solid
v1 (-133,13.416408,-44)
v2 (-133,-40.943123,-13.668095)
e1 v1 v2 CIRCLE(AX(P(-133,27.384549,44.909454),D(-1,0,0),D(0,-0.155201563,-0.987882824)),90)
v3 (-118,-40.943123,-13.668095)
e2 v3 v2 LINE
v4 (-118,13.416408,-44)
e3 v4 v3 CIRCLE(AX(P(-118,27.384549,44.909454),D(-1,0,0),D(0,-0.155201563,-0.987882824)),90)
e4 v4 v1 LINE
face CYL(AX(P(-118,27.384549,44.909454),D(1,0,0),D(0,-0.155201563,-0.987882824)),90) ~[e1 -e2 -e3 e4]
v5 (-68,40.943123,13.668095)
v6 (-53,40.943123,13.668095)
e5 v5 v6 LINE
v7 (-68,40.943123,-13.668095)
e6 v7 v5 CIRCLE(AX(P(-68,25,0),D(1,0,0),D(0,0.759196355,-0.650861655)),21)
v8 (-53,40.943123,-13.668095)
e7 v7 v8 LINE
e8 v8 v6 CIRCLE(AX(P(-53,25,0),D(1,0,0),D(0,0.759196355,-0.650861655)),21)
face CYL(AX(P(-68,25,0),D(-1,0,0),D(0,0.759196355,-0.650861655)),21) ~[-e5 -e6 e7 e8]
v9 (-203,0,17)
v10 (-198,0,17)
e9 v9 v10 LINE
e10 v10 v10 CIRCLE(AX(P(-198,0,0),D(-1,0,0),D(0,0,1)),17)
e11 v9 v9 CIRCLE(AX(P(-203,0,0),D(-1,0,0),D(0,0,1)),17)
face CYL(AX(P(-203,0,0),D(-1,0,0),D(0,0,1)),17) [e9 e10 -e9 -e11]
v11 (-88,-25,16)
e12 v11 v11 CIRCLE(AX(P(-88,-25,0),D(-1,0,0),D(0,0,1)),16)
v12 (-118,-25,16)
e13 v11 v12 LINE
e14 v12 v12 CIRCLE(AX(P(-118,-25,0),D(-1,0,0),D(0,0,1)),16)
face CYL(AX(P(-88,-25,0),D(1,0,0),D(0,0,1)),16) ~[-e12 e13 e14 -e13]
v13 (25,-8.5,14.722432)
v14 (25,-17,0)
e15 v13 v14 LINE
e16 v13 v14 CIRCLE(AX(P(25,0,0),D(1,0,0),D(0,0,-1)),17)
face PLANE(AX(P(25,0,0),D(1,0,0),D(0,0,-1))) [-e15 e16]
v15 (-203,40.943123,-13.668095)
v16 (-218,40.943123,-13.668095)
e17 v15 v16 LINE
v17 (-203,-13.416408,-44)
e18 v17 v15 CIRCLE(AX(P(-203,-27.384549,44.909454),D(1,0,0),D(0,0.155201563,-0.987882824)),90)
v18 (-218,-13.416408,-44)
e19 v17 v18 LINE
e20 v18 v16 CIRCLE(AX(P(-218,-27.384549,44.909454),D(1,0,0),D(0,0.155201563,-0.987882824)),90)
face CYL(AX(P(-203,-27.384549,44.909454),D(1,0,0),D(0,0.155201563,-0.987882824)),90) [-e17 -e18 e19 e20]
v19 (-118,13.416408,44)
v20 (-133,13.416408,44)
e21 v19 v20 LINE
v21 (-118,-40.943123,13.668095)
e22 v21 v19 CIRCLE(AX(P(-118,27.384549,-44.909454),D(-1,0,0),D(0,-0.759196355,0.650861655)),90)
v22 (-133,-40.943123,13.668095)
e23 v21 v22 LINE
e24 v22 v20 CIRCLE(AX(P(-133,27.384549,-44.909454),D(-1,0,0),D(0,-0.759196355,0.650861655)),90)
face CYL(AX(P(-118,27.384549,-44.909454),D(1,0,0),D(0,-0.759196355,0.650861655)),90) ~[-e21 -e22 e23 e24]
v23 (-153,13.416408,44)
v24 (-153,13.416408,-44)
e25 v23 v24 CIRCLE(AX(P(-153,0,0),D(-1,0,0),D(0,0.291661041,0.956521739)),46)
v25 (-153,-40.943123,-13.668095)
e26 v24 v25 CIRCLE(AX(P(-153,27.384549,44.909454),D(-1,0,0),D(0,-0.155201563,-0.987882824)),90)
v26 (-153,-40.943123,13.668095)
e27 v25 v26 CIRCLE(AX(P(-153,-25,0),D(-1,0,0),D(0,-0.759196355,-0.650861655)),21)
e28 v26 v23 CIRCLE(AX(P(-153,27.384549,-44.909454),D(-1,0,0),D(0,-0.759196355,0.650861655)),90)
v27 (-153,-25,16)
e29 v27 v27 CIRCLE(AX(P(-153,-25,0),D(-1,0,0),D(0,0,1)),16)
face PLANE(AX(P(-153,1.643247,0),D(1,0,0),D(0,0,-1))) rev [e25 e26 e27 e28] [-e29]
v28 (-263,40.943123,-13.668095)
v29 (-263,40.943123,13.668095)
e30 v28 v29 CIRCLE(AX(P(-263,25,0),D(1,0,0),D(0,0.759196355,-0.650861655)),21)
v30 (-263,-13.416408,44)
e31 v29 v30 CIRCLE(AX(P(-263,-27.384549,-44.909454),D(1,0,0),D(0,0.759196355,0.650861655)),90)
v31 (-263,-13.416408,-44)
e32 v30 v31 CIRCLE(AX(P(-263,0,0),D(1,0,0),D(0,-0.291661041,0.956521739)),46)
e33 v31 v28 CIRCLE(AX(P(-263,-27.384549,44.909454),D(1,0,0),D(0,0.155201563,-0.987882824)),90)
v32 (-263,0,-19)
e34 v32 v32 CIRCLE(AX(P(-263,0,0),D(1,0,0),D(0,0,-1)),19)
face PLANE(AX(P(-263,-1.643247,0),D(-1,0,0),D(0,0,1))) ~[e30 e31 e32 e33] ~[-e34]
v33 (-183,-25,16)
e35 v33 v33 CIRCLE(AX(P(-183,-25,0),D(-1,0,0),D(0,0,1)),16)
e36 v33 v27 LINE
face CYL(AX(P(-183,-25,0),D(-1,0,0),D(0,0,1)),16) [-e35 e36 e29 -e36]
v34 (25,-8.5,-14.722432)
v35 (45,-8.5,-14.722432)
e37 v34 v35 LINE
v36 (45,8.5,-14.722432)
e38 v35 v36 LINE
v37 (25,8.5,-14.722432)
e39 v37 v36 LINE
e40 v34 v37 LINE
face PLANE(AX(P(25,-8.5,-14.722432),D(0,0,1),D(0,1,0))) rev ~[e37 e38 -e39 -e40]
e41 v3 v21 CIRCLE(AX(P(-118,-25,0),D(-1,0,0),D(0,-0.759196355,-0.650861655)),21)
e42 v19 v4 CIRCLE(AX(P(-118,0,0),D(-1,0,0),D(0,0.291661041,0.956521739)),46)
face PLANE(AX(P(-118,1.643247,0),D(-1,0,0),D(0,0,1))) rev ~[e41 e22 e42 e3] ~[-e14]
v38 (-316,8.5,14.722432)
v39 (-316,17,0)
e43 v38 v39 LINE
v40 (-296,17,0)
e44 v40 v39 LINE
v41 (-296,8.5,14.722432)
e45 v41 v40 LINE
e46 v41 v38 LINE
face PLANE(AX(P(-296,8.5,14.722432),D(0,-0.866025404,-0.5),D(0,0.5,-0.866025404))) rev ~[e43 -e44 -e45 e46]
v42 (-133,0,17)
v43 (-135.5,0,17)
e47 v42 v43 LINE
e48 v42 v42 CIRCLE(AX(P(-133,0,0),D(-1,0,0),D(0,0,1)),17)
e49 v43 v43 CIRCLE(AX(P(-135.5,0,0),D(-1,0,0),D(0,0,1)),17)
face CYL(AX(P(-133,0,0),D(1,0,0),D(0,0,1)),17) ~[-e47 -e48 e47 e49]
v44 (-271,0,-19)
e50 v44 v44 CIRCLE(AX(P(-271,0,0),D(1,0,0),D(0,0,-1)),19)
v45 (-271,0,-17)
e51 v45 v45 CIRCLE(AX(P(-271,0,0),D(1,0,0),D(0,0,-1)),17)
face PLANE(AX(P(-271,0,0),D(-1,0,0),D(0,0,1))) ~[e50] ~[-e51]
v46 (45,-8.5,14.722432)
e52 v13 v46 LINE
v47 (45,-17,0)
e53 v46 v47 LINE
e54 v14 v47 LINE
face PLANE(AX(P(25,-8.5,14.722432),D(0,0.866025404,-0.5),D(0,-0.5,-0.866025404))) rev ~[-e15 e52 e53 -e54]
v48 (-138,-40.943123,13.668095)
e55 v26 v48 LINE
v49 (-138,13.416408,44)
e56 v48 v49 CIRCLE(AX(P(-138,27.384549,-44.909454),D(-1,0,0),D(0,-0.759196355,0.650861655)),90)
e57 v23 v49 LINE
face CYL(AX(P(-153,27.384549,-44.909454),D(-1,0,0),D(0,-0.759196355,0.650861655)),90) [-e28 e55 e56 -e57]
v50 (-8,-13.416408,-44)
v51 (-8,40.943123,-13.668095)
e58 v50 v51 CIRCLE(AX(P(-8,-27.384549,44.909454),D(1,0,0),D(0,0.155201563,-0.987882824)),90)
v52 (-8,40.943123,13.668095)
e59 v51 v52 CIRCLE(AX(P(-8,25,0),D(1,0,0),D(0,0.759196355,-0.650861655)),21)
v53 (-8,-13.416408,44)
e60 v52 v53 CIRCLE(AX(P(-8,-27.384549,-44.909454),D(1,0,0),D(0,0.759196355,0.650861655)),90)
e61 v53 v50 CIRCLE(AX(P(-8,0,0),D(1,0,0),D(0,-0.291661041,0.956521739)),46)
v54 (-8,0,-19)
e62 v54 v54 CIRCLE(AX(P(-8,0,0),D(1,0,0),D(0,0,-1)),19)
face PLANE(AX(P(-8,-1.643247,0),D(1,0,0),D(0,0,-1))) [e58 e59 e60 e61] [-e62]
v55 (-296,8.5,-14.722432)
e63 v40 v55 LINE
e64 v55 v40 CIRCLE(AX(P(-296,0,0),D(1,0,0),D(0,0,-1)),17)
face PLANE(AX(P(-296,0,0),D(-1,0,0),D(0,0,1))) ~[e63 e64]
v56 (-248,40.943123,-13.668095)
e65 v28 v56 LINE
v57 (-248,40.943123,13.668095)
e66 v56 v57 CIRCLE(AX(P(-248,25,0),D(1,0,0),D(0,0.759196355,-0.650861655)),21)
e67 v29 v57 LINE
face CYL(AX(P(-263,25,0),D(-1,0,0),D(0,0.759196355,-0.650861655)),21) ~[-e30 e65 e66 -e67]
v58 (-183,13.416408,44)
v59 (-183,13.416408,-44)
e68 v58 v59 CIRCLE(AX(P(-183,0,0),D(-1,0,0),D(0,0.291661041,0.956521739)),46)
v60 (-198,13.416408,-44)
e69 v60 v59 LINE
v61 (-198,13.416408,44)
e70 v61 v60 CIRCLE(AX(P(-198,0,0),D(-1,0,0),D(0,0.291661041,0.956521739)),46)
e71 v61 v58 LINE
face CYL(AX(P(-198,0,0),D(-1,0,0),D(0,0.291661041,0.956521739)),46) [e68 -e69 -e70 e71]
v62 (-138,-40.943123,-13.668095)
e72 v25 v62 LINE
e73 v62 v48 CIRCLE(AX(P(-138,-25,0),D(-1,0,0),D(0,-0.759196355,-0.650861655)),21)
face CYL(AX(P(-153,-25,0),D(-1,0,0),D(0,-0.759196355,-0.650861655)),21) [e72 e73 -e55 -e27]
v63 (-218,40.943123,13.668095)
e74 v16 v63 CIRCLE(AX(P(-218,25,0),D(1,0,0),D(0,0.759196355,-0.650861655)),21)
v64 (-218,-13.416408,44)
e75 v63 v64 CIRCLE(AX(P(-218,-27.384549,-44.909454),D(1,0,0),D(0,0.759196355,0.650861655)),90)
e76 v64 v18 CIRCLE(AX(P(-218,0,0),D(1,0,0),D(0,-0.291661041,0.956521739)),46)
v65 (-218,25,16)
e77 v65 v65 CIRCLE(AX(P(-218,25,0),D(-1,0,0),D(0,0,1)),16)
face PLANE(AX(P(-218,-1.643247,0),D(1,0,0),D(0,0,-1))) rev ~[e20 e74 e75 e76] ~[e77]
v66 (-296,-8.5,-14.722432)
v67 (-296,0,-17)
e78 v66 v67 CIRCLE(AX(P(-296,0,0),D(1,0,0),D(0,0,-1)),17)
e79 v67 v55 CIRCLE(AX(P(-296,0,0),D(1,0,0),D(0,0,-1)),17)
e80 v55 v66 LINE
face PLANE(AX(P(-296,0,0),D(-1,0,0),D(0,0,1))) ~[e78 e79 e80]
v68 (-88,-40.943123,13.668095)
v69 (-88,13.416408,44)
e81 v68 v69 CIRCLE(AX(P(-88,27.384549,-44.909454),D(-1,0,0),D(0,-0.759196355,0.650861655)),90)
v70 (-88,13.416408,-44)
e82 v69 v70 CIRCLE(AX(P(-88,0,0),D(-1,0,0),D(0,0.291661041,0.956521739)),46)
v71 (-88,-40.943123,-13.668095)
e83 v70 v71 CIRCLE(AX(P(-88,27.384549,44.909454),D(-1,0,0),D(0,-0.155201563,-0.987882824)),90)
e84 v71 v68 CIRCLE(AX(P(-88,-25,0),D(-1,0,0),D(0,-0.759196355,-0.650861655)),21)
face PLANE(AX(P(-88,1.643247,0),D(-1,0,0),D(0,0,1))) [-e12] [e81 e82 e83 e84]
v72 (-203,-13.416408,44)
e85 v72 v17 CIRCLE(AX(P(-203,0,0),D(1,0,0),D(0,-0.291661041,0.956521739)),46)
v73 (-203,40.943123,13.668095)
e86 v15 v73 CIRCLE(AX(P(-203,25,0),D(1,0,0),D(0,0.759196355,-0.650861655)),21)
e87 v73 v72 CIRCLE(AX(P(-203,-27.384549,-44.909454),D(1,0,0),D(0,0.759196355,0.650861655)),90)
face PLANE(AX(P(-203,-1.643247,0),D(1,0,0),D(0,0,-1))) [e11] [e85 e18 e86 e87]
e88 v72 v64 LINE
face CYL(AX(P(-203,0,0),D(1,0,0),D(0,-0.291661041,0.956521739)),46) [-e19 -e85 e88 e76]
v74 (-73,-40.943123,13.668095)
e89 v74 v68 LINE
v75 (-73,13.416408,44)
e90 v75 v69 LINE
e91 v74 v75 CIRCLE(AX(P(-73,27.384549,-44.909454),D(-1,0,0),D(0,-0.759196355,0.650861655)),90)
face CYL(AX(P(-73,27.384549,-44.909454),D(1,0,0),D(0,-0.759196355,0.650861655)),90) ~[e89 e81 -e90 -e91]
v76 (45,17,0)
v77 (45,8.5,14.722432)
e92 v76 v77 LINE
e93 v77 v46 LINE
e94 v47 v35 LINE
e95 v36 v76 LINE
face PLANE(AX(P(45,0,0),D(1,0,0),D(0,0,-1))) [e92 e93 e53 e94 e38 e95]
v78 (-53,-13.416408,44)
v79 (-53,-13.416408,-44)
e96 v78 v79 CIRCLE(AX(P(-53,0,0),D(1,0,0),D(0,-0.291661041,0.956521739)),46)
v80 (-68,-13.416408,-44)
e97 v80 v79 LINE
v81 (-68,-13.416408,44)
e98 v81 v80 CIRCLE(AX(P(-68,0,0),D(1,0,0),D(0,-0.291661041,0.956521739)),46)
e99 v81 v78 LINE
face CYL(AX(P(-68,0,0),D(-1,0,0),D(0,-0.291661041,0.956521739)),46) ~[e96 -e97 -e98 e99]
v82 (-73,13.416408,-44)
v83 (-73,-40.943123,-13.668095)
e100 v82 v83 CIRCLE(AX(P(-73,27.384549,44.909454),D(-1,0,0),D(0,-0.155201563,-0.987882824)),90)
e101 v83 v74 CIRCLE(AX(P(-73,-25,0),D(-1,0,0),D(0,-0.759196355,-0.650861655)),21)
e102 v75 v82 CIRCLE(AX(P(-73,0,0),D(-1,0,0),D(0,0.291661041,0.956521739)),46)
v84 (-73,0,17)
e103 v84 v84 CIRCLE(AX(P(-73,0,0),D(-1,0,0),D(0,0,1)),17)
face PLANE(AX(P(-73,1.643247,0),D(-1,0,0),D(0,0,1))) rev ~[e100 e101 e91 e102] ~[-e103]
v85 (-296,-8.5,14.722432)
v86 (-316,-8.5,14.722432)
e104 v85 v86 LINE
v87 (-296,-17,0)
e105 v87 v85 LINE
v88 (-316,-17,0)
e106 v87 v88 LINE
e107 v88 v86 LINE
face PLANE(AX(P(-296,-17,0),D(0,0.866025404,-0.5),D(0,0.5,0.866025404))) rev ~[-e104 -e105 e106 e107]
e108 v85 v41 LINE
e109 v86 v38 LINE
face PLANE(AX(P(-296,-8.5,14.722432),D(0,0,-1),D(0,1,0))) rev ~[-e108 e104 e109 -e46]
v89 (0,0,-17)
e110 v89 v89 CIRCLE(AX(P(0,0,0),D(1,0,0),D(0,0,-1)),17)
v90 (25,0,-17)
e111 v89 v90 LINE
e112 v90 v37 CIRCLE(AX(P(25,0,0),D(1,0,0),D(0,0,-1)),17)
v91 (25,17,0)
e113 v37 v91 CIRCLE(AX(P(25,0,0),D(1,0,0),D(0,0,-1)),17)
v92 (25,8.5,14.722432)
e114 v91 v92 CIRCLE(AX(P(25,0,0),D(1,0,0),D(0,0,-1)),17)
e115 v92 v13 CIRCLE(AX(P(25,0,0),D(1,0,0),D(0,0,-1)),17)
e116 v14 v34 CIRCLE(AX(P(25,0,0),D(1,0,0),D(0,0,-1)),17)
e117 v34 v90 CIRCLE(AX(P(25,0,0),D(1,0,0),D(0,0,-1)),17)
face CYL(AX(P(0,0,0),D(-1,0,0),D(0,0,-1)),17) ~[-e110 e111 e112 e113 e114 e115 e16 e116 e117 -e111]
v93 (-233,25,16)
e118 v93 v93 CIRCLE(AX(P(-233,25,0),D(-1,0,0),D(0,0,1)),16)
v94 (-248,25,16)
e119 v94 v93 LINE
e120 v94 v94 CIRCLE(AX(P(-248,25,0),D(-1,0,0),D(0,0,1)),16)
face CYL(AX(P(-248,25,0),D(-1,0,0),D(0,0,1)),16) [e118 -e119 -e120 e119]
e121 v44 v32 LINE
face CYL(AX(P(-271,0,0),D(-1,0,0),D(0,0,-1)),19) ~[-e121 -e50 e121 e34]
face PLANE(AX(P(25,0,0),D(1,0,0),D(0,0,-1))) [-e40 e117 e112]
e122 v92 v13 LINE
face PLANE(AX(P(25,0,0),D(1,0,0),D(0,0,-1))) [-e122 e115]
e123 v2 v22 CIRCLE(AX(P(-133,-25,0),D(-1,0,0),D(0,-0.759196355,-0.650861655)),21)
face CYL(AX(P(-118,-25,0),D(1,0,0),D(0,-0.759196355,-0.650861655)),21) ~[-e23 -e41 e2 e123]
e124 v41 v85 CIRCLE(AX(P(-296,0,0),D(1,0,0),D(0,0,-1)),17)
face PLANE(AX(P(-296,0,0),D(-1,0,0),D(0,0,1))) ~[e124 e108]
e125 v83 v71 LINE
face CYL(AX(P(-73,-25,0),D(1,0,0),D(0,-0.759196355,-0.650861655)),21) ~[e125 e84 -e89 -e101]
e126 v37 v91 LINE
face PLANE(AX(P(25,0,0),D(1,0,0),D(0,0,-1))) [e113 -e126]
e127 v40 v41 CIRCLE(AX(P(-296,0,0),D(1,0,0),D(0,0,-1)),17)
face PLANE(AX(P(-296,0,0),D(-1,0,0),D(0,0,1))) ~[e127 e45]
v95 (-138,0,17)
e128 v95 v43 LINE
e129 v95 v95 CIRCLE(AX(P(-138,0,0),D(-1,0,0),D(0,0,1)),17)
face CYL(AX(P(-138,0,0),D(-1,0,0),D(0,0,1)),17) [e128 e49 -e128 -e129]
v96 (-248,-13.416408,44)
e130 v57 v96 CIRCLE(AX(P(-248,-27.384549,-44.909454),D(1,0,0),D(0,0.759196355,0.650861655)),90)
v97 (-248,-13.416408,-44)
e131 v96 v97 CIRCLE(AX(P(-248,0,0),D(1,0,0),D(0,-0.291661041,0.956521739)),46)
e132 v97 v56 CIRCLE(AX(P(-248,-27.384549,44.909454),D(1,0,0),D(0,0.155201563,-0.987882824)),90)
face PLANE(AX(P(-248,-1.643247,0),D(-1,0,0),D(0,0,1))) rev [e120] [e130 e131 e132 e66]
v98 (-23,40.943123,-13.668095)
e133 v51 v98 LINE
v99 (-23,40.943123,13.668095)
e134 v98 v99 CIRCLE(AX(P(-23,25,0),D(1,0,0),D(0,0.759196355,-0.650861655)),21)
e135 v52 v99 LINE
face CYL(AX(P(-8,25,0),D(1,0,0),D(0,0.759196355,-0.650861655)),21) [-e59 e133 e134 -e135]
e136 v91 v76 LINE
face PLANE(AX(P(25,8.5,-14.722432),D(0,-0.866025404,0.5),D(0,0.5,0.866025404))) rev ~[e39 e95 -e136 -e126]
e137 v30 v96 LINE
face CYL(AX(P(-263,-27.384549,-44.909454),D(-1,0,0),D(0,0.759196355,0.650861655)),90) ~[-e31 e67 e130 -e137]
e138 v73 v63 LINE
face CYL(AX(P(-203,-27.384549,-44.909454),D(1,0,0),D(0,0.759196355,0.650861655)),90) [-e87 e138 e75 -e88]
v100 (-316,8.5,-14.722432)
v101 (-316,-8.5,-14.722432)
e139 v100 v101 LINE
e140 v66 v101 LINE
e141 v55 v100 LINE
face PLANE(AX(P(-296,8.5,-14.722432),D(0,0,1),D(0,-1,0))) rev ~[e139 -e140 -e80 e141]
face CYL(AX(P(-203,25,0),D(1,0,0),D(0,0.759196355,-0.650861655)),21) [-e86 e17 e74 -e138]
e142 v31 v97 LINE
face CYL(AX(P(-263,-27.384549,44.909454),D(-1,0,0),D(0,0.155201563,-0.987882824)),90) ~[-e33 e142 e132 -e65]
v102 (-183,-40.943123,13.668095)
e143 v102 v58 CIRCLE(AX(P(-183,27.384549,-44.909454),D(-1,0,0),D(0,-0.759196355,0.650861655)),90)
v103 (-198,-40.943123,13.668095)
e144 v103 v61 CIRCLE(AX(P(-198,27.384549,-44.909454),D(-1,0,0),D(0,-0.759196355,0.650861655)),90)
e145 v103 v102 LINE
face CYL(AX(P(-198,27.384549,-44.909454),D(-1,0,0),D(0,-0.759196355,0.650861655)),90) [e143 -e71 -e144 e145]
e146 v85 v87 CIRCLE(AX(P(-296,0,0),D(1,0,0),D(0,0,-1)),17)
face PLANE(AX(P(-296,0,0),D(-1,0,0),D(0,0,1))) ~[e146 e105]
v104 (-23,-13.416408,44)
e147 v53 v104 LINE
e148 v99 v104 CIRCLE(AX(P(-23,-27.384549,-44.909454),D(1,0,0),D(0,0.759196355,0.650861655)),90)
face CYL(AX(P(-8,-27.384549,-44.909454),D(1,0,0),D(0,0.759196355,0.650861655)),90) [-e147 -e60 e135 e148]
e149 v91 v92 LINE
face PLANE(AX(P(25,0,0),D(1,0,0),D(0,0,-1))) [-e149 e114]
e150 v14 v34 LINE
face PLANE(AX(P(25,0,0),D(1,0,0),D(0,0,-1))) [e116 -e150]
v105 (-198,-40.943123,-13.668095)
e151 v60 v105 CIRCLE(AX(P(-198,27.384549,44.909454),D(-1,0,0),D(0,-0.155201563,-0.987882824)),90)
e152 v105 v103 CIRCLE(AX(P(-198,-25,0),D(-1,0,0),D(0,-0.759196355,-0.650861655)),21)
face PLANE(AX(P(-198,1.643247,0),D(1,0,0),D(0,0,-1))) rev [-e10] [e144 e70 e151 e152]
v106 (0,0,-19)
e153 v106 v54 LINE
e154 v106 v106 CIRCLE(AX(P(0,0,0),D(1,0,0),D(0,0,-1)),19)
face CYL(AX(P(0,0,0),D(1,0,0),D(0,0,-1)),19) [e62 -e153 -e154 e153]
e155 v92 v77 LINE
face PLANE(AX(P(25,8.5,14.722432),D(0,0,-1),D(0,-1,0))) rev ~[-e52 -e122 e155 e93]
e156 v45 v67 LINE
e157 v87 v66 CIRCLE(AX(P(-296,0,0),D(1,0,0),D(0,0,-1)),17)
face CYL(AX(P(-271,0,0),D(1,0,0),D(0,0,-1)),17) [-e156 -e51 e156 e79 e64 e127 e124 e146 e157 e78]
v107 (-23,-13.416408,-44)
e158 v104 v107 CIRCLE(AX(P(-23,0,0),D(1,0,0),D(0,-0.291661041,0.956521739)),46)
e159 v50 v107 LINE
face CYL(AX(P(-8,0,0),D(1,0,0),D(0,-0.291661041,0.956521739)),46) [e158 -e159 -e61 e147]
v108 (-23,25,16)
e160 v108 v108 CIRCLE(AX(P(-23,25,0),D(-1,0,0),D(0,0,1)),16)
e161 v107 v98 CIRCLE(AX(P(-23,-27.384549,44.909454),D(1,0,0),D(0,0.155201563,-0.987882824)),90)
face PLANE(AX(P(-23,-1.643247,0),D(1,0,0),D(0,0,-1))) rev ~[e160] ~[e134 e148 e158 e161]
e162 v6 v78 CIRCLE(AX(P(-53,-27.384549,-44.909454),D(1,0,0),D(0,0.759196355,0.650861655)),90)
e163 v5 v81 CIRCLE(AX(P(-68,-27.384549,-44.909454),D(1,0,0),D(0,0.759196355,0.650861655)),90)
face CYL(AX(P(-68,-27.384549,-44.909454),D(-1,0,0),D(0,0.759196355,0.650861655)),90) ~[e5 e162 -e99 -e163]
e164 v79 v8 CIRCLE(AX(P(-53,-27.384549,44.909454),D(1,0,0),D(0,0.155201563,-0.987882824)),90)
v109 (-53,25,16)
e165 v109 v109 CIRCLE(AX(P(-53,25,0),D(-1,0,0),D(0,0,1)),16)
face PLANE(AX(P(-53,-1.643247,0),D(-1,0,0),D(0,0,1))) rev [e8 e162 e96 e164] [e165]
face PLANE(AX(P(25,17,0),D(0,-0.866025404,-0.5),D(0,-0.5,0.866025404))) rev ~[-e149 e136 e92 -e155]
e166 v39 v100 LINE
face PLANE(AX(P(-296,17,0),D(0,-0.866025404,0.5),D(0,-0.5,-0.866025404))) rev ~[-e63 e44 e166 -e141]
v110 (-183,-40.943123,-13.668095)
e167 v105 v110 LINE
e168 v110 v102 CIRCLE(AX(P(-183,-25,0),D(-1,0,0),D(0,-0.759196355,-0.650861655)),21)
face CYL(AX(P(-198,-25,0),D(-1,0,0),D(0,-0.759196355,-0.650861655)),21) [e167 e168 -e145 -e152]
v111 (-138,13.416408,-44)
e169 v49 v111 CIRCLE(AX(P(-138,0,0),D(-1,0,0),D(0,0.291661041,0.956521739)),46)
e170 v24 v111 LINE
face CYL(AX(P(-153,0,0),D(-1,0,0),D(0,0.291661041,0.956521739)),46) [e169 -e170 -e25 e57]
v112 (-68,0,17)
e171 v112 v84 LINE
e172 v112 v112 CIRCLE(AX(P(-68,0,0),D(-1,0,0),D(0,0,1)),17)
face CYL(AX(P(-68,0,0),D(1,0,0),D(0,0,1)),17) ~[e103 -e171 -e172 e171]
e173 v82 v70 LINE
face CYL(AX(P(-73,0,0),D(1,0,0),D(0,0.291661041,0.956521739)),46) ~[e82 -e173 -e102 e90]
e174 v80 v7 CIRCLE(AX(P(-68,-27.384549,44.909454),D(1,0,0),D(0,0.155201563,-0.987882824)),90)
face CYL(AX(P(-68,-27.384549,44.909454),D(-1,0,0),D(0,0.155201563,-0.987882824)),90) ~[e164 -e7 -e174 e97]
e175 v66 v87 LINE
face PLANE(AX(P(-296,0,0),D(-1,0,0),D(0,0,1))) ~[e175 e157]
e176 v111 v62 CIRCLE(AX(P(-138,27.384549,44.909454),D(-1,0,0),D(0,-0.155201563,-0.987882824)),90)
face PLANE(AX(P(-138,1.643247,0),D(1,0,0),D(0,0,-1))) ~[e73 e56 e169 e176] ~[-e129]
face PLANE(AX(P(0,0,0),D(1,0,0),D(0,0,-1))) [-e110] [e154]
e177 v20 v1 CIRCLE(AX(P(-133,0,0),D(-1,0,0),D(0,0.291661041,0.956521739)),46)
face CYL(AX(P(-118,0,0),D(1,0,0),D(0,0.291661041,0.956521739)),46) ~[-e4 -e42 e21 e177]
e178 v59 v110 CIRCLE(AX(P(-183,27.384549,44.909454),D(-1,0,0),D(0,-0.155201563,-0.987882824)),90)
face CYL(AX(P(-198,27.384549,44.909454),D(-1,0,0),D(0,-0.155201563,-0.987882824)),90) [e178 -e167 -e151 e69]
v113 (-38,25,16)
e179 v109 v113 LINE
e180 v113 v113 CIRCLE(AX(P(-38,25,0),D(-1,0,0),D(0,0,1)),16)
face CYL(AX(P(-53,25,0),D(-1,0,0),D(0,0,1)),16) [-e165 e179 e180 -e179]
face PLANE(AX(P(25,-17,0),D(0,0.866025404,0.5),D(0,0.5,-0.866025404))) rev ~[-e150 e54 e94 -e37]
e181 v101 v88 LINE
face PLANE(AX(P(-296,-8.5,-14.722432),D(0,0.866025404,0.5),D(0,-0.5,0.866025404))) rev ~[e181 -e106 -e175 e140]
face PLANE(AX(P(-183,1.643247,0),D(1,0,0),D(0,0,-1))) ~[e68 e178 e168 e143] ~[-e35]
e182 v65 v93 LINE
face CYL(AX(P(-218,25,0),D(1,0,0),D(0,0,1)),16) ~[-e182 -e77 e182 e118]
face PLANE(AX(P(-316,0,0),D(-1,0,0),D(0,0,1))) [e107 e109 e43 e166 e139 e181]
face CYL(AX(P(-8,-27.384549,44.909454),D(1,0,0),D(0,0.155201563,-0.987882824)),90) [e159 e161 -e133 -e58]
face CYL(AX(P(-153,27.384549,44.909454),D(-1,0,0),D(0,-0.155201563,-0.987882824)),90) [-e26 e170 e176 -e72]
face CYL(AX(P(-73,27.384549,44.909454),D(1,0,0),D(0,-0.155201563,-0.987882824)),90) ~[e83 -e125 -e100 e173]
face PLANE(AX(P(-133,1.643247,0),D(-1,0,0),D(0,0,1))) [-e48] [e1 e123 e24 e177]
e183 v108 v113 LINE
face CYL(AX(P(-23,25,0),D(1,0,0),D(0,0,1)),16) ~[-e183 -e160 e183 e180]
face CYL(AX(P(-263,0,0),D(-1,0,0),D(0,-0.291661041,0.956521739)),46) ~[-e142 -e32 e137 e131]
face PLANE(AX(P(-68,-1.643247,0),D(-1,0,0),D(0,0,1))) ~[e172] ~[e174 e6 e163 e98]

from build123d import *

# Parameters (mm, degrees)
SKETCH1_R            = 17
BOSS_EXTRUDE1_DEPTH  = 25
SKETCH1_3_R          = 19
BOSS_EXTRUDE2_DEPTH  = 8
BOSS_EXTRUDE3_DEPTH  = 15
SKETCH5_R            = 16
BOSS_EXTRUDE4_DEPTH  = 15
BOSS_EXTRUDE5_START  = 5
SKETCH6_R            = 17
BOSS_EXTRUDE5_DEPTH  = 5
BOSS_EXTRUDE6_DEPTH  = 15
SKETCH8_R            = 16
BOSS_EXTRUDE7_DEPTH  = 30
BOSS_EXTRUDE8_DEPTH  = 15
BOSS_EXTRUDE9_START  = 2.5
SKETCH10_R           = 17
BOSS_EXTRUDE9_DEPTH  = 2.5
BOSS_EXTRUDE10_DEPTH = 20
BOSS_EXTRUDE11_DEPTH = 20


with BuildPart() as part:
    # Sketch1 → Boss-Extrude1 (new body)
    with BuildSketch(Plane(origin=(0, 0, 0), x_dir=(0, 0, -1), z_dir=(1, 0, 0))):
        Circle(SKETCH1_R)
    extrude(amount=BOSS_EXTRUDE1_DEPTH)

    # Sketch1<3> → Boss-Extrude2 (add)
    with BuildSketch(Plane(origin=(0, 0, 0), x_dir=(0, 0, -1), z_dir=(1, 0, 0))):
        Circle(SKETCH1_3_R)
    extrude(amount=-BOSS_EXTRUDE2_DEPTH)

    # Sketch4 → Boss-Extrude3 (add)
    with BuildSketch(Plane.ZY.offset(8)):
        with BuildLine():
            ThreePointArc((-13.668094758, 40.943123461), (0, 46), (13.668094758, 40.943123461))
            ThreePointArc((13.668094758, 40.943123461), (33.683444249, 16.469257624), (44, -13.416407865))
            ThreePointArc((44, -13.416407865), (0, -46), (-44, -13.416407865))
            ThreePointArc((-44, -13.416407865), (-33.683444249, 16.469257624), (-13.668094758, 40.943123461))
        make_face()
    boss_extrude3 = extrude(amount=BOSS_EXTRUDE3_DEPTH)

    # Sketch5 → Boss-Extrude4 (add)
    with BuildSketch(Plane.ZY.offset(23)):
        with Locations((0, 25)):
            Circle(SKETCH5_R)
    boss_extrude4 = extrude(amount=BOSS_EXTRUDE4_DEPTH)

    # Mirror1: Boss-Extrude3, Boss-Extrude4 across plane
    add(boss_extrude3.mirror(Plane(origin=(-38, 25, 0), x_dir=(0, 0, 1), z_dir=(-1, 0, 0))))
    add(boss_extrude4.mirror(Plane(origin=(-38, 25, 0), x_dir=(0, 0, 1), z_dir=(-1, 0, 0))))

    # Sketch6 → Boss-Extrude5 (add)
    with BuildSketch(Plane.ZY.offset(68).offset(BOSS_EXTRUDE5_START)):
        Circle(SKETCH6_R)
    extrude(amount=-BOSS_EXTRUDE5_DEPTH)

    # Sketch7 → Boss-Extrude6 (add)
    with BuildSketch(Plane.ZY.offset(73)):
        with BuildLine():
            ThreePointArc((-13.668094758, -40.943123461), (0, -46), (13.668094758, -40.943123461))
            ThreePointArc((13.668094758, -40.943123461), (33.683444249, -16.469257624), (44, 13.416407865))
            ThreePointArc((44, 13.416407865), (0, 46), (-44, 13.416407865))
            ThreePointArc((-44, 13.416407865), (-33.683444249, -16.469257624), (-13.668094758, -40.943123461))
        make_face()
    extrude(amount=BOSS_EXTRUDE6_DEPTH)

    # Sketch8 → Boss-Extrude7 (add)
    with BuildSketch(Plane.ZY.offset(88)):
        with Locations((0, -25)):
            Circle(SKETCH8_R)
    extrude(amount=BOSS_EXTRUDE7_DEPTH)

    # Sketch9 → Boss-Extrude8 (add)
    with BuildSketch(Plane.ZY.offset(118)):
        with BuildLine():
            ThreePointArc((-13.668094758, -40.943123461), (0, -46), (13.668094758, -40.943123461))
            ThreePointArc((13.668094758, -40.943123461), (33.683444249, -16.469257624), (44, 13.416407865))
            ThreePointArc((44, 13.416407865), (0, 46), (-44, 13.416407865))
            ThreePointArc((-44, 13.416407865), (-33.683444249, -16.469257624), (-13.668094758, -40.943123461))
        make_face()
    extrude(amount=BOSS_EXTRUDE8_DEPTH)

    # Sketch10 → Boss-Extrude9 (add)
    with BuildSketch(Plane.ZY.offset(133).offset(BOSS_EXTRUDE9_START)):
        Circle(SKETCH10_R)
    extrude(amount=-BOSS_EXTRUDE9_DEPTH)

    # Mirror2: part across plane


with BuildPart() as part_1:
    add(part.part)
    add(part.part.mirror(Plane.ZY.offset(135.5)))

    # Sketch11 → Boss-Extrude10 (add)
    with BuildSketch(Plane(origin=(25, 0, 0), x_dir=(0, 0, -1), z_dir=(1, 0, 0))):
        Polygon((14.722431864, -8.5), (14.722431864, 8.5), (0, 17), (-14.722431864, 8.5), (-14.722431864, -8.5), (0, -17), align=None)
    extrude(amount=BOSS_EXTRUDE10_DEPTH)

    # Sketch12 → Boss-Extrude11 (add)
    with BuildSketch(Plane.ZY.offset(296)):
        Polygon((-14.722431864, 8.5), (-14.722431864, -8.5), (0, -17), (14.722431864, -8.5), (14.722431864, 8.5), (0, 17), align=None)
    extrude(amount=BOSS_EXTRUDE11_DEPTH)


solid = part_1.part
